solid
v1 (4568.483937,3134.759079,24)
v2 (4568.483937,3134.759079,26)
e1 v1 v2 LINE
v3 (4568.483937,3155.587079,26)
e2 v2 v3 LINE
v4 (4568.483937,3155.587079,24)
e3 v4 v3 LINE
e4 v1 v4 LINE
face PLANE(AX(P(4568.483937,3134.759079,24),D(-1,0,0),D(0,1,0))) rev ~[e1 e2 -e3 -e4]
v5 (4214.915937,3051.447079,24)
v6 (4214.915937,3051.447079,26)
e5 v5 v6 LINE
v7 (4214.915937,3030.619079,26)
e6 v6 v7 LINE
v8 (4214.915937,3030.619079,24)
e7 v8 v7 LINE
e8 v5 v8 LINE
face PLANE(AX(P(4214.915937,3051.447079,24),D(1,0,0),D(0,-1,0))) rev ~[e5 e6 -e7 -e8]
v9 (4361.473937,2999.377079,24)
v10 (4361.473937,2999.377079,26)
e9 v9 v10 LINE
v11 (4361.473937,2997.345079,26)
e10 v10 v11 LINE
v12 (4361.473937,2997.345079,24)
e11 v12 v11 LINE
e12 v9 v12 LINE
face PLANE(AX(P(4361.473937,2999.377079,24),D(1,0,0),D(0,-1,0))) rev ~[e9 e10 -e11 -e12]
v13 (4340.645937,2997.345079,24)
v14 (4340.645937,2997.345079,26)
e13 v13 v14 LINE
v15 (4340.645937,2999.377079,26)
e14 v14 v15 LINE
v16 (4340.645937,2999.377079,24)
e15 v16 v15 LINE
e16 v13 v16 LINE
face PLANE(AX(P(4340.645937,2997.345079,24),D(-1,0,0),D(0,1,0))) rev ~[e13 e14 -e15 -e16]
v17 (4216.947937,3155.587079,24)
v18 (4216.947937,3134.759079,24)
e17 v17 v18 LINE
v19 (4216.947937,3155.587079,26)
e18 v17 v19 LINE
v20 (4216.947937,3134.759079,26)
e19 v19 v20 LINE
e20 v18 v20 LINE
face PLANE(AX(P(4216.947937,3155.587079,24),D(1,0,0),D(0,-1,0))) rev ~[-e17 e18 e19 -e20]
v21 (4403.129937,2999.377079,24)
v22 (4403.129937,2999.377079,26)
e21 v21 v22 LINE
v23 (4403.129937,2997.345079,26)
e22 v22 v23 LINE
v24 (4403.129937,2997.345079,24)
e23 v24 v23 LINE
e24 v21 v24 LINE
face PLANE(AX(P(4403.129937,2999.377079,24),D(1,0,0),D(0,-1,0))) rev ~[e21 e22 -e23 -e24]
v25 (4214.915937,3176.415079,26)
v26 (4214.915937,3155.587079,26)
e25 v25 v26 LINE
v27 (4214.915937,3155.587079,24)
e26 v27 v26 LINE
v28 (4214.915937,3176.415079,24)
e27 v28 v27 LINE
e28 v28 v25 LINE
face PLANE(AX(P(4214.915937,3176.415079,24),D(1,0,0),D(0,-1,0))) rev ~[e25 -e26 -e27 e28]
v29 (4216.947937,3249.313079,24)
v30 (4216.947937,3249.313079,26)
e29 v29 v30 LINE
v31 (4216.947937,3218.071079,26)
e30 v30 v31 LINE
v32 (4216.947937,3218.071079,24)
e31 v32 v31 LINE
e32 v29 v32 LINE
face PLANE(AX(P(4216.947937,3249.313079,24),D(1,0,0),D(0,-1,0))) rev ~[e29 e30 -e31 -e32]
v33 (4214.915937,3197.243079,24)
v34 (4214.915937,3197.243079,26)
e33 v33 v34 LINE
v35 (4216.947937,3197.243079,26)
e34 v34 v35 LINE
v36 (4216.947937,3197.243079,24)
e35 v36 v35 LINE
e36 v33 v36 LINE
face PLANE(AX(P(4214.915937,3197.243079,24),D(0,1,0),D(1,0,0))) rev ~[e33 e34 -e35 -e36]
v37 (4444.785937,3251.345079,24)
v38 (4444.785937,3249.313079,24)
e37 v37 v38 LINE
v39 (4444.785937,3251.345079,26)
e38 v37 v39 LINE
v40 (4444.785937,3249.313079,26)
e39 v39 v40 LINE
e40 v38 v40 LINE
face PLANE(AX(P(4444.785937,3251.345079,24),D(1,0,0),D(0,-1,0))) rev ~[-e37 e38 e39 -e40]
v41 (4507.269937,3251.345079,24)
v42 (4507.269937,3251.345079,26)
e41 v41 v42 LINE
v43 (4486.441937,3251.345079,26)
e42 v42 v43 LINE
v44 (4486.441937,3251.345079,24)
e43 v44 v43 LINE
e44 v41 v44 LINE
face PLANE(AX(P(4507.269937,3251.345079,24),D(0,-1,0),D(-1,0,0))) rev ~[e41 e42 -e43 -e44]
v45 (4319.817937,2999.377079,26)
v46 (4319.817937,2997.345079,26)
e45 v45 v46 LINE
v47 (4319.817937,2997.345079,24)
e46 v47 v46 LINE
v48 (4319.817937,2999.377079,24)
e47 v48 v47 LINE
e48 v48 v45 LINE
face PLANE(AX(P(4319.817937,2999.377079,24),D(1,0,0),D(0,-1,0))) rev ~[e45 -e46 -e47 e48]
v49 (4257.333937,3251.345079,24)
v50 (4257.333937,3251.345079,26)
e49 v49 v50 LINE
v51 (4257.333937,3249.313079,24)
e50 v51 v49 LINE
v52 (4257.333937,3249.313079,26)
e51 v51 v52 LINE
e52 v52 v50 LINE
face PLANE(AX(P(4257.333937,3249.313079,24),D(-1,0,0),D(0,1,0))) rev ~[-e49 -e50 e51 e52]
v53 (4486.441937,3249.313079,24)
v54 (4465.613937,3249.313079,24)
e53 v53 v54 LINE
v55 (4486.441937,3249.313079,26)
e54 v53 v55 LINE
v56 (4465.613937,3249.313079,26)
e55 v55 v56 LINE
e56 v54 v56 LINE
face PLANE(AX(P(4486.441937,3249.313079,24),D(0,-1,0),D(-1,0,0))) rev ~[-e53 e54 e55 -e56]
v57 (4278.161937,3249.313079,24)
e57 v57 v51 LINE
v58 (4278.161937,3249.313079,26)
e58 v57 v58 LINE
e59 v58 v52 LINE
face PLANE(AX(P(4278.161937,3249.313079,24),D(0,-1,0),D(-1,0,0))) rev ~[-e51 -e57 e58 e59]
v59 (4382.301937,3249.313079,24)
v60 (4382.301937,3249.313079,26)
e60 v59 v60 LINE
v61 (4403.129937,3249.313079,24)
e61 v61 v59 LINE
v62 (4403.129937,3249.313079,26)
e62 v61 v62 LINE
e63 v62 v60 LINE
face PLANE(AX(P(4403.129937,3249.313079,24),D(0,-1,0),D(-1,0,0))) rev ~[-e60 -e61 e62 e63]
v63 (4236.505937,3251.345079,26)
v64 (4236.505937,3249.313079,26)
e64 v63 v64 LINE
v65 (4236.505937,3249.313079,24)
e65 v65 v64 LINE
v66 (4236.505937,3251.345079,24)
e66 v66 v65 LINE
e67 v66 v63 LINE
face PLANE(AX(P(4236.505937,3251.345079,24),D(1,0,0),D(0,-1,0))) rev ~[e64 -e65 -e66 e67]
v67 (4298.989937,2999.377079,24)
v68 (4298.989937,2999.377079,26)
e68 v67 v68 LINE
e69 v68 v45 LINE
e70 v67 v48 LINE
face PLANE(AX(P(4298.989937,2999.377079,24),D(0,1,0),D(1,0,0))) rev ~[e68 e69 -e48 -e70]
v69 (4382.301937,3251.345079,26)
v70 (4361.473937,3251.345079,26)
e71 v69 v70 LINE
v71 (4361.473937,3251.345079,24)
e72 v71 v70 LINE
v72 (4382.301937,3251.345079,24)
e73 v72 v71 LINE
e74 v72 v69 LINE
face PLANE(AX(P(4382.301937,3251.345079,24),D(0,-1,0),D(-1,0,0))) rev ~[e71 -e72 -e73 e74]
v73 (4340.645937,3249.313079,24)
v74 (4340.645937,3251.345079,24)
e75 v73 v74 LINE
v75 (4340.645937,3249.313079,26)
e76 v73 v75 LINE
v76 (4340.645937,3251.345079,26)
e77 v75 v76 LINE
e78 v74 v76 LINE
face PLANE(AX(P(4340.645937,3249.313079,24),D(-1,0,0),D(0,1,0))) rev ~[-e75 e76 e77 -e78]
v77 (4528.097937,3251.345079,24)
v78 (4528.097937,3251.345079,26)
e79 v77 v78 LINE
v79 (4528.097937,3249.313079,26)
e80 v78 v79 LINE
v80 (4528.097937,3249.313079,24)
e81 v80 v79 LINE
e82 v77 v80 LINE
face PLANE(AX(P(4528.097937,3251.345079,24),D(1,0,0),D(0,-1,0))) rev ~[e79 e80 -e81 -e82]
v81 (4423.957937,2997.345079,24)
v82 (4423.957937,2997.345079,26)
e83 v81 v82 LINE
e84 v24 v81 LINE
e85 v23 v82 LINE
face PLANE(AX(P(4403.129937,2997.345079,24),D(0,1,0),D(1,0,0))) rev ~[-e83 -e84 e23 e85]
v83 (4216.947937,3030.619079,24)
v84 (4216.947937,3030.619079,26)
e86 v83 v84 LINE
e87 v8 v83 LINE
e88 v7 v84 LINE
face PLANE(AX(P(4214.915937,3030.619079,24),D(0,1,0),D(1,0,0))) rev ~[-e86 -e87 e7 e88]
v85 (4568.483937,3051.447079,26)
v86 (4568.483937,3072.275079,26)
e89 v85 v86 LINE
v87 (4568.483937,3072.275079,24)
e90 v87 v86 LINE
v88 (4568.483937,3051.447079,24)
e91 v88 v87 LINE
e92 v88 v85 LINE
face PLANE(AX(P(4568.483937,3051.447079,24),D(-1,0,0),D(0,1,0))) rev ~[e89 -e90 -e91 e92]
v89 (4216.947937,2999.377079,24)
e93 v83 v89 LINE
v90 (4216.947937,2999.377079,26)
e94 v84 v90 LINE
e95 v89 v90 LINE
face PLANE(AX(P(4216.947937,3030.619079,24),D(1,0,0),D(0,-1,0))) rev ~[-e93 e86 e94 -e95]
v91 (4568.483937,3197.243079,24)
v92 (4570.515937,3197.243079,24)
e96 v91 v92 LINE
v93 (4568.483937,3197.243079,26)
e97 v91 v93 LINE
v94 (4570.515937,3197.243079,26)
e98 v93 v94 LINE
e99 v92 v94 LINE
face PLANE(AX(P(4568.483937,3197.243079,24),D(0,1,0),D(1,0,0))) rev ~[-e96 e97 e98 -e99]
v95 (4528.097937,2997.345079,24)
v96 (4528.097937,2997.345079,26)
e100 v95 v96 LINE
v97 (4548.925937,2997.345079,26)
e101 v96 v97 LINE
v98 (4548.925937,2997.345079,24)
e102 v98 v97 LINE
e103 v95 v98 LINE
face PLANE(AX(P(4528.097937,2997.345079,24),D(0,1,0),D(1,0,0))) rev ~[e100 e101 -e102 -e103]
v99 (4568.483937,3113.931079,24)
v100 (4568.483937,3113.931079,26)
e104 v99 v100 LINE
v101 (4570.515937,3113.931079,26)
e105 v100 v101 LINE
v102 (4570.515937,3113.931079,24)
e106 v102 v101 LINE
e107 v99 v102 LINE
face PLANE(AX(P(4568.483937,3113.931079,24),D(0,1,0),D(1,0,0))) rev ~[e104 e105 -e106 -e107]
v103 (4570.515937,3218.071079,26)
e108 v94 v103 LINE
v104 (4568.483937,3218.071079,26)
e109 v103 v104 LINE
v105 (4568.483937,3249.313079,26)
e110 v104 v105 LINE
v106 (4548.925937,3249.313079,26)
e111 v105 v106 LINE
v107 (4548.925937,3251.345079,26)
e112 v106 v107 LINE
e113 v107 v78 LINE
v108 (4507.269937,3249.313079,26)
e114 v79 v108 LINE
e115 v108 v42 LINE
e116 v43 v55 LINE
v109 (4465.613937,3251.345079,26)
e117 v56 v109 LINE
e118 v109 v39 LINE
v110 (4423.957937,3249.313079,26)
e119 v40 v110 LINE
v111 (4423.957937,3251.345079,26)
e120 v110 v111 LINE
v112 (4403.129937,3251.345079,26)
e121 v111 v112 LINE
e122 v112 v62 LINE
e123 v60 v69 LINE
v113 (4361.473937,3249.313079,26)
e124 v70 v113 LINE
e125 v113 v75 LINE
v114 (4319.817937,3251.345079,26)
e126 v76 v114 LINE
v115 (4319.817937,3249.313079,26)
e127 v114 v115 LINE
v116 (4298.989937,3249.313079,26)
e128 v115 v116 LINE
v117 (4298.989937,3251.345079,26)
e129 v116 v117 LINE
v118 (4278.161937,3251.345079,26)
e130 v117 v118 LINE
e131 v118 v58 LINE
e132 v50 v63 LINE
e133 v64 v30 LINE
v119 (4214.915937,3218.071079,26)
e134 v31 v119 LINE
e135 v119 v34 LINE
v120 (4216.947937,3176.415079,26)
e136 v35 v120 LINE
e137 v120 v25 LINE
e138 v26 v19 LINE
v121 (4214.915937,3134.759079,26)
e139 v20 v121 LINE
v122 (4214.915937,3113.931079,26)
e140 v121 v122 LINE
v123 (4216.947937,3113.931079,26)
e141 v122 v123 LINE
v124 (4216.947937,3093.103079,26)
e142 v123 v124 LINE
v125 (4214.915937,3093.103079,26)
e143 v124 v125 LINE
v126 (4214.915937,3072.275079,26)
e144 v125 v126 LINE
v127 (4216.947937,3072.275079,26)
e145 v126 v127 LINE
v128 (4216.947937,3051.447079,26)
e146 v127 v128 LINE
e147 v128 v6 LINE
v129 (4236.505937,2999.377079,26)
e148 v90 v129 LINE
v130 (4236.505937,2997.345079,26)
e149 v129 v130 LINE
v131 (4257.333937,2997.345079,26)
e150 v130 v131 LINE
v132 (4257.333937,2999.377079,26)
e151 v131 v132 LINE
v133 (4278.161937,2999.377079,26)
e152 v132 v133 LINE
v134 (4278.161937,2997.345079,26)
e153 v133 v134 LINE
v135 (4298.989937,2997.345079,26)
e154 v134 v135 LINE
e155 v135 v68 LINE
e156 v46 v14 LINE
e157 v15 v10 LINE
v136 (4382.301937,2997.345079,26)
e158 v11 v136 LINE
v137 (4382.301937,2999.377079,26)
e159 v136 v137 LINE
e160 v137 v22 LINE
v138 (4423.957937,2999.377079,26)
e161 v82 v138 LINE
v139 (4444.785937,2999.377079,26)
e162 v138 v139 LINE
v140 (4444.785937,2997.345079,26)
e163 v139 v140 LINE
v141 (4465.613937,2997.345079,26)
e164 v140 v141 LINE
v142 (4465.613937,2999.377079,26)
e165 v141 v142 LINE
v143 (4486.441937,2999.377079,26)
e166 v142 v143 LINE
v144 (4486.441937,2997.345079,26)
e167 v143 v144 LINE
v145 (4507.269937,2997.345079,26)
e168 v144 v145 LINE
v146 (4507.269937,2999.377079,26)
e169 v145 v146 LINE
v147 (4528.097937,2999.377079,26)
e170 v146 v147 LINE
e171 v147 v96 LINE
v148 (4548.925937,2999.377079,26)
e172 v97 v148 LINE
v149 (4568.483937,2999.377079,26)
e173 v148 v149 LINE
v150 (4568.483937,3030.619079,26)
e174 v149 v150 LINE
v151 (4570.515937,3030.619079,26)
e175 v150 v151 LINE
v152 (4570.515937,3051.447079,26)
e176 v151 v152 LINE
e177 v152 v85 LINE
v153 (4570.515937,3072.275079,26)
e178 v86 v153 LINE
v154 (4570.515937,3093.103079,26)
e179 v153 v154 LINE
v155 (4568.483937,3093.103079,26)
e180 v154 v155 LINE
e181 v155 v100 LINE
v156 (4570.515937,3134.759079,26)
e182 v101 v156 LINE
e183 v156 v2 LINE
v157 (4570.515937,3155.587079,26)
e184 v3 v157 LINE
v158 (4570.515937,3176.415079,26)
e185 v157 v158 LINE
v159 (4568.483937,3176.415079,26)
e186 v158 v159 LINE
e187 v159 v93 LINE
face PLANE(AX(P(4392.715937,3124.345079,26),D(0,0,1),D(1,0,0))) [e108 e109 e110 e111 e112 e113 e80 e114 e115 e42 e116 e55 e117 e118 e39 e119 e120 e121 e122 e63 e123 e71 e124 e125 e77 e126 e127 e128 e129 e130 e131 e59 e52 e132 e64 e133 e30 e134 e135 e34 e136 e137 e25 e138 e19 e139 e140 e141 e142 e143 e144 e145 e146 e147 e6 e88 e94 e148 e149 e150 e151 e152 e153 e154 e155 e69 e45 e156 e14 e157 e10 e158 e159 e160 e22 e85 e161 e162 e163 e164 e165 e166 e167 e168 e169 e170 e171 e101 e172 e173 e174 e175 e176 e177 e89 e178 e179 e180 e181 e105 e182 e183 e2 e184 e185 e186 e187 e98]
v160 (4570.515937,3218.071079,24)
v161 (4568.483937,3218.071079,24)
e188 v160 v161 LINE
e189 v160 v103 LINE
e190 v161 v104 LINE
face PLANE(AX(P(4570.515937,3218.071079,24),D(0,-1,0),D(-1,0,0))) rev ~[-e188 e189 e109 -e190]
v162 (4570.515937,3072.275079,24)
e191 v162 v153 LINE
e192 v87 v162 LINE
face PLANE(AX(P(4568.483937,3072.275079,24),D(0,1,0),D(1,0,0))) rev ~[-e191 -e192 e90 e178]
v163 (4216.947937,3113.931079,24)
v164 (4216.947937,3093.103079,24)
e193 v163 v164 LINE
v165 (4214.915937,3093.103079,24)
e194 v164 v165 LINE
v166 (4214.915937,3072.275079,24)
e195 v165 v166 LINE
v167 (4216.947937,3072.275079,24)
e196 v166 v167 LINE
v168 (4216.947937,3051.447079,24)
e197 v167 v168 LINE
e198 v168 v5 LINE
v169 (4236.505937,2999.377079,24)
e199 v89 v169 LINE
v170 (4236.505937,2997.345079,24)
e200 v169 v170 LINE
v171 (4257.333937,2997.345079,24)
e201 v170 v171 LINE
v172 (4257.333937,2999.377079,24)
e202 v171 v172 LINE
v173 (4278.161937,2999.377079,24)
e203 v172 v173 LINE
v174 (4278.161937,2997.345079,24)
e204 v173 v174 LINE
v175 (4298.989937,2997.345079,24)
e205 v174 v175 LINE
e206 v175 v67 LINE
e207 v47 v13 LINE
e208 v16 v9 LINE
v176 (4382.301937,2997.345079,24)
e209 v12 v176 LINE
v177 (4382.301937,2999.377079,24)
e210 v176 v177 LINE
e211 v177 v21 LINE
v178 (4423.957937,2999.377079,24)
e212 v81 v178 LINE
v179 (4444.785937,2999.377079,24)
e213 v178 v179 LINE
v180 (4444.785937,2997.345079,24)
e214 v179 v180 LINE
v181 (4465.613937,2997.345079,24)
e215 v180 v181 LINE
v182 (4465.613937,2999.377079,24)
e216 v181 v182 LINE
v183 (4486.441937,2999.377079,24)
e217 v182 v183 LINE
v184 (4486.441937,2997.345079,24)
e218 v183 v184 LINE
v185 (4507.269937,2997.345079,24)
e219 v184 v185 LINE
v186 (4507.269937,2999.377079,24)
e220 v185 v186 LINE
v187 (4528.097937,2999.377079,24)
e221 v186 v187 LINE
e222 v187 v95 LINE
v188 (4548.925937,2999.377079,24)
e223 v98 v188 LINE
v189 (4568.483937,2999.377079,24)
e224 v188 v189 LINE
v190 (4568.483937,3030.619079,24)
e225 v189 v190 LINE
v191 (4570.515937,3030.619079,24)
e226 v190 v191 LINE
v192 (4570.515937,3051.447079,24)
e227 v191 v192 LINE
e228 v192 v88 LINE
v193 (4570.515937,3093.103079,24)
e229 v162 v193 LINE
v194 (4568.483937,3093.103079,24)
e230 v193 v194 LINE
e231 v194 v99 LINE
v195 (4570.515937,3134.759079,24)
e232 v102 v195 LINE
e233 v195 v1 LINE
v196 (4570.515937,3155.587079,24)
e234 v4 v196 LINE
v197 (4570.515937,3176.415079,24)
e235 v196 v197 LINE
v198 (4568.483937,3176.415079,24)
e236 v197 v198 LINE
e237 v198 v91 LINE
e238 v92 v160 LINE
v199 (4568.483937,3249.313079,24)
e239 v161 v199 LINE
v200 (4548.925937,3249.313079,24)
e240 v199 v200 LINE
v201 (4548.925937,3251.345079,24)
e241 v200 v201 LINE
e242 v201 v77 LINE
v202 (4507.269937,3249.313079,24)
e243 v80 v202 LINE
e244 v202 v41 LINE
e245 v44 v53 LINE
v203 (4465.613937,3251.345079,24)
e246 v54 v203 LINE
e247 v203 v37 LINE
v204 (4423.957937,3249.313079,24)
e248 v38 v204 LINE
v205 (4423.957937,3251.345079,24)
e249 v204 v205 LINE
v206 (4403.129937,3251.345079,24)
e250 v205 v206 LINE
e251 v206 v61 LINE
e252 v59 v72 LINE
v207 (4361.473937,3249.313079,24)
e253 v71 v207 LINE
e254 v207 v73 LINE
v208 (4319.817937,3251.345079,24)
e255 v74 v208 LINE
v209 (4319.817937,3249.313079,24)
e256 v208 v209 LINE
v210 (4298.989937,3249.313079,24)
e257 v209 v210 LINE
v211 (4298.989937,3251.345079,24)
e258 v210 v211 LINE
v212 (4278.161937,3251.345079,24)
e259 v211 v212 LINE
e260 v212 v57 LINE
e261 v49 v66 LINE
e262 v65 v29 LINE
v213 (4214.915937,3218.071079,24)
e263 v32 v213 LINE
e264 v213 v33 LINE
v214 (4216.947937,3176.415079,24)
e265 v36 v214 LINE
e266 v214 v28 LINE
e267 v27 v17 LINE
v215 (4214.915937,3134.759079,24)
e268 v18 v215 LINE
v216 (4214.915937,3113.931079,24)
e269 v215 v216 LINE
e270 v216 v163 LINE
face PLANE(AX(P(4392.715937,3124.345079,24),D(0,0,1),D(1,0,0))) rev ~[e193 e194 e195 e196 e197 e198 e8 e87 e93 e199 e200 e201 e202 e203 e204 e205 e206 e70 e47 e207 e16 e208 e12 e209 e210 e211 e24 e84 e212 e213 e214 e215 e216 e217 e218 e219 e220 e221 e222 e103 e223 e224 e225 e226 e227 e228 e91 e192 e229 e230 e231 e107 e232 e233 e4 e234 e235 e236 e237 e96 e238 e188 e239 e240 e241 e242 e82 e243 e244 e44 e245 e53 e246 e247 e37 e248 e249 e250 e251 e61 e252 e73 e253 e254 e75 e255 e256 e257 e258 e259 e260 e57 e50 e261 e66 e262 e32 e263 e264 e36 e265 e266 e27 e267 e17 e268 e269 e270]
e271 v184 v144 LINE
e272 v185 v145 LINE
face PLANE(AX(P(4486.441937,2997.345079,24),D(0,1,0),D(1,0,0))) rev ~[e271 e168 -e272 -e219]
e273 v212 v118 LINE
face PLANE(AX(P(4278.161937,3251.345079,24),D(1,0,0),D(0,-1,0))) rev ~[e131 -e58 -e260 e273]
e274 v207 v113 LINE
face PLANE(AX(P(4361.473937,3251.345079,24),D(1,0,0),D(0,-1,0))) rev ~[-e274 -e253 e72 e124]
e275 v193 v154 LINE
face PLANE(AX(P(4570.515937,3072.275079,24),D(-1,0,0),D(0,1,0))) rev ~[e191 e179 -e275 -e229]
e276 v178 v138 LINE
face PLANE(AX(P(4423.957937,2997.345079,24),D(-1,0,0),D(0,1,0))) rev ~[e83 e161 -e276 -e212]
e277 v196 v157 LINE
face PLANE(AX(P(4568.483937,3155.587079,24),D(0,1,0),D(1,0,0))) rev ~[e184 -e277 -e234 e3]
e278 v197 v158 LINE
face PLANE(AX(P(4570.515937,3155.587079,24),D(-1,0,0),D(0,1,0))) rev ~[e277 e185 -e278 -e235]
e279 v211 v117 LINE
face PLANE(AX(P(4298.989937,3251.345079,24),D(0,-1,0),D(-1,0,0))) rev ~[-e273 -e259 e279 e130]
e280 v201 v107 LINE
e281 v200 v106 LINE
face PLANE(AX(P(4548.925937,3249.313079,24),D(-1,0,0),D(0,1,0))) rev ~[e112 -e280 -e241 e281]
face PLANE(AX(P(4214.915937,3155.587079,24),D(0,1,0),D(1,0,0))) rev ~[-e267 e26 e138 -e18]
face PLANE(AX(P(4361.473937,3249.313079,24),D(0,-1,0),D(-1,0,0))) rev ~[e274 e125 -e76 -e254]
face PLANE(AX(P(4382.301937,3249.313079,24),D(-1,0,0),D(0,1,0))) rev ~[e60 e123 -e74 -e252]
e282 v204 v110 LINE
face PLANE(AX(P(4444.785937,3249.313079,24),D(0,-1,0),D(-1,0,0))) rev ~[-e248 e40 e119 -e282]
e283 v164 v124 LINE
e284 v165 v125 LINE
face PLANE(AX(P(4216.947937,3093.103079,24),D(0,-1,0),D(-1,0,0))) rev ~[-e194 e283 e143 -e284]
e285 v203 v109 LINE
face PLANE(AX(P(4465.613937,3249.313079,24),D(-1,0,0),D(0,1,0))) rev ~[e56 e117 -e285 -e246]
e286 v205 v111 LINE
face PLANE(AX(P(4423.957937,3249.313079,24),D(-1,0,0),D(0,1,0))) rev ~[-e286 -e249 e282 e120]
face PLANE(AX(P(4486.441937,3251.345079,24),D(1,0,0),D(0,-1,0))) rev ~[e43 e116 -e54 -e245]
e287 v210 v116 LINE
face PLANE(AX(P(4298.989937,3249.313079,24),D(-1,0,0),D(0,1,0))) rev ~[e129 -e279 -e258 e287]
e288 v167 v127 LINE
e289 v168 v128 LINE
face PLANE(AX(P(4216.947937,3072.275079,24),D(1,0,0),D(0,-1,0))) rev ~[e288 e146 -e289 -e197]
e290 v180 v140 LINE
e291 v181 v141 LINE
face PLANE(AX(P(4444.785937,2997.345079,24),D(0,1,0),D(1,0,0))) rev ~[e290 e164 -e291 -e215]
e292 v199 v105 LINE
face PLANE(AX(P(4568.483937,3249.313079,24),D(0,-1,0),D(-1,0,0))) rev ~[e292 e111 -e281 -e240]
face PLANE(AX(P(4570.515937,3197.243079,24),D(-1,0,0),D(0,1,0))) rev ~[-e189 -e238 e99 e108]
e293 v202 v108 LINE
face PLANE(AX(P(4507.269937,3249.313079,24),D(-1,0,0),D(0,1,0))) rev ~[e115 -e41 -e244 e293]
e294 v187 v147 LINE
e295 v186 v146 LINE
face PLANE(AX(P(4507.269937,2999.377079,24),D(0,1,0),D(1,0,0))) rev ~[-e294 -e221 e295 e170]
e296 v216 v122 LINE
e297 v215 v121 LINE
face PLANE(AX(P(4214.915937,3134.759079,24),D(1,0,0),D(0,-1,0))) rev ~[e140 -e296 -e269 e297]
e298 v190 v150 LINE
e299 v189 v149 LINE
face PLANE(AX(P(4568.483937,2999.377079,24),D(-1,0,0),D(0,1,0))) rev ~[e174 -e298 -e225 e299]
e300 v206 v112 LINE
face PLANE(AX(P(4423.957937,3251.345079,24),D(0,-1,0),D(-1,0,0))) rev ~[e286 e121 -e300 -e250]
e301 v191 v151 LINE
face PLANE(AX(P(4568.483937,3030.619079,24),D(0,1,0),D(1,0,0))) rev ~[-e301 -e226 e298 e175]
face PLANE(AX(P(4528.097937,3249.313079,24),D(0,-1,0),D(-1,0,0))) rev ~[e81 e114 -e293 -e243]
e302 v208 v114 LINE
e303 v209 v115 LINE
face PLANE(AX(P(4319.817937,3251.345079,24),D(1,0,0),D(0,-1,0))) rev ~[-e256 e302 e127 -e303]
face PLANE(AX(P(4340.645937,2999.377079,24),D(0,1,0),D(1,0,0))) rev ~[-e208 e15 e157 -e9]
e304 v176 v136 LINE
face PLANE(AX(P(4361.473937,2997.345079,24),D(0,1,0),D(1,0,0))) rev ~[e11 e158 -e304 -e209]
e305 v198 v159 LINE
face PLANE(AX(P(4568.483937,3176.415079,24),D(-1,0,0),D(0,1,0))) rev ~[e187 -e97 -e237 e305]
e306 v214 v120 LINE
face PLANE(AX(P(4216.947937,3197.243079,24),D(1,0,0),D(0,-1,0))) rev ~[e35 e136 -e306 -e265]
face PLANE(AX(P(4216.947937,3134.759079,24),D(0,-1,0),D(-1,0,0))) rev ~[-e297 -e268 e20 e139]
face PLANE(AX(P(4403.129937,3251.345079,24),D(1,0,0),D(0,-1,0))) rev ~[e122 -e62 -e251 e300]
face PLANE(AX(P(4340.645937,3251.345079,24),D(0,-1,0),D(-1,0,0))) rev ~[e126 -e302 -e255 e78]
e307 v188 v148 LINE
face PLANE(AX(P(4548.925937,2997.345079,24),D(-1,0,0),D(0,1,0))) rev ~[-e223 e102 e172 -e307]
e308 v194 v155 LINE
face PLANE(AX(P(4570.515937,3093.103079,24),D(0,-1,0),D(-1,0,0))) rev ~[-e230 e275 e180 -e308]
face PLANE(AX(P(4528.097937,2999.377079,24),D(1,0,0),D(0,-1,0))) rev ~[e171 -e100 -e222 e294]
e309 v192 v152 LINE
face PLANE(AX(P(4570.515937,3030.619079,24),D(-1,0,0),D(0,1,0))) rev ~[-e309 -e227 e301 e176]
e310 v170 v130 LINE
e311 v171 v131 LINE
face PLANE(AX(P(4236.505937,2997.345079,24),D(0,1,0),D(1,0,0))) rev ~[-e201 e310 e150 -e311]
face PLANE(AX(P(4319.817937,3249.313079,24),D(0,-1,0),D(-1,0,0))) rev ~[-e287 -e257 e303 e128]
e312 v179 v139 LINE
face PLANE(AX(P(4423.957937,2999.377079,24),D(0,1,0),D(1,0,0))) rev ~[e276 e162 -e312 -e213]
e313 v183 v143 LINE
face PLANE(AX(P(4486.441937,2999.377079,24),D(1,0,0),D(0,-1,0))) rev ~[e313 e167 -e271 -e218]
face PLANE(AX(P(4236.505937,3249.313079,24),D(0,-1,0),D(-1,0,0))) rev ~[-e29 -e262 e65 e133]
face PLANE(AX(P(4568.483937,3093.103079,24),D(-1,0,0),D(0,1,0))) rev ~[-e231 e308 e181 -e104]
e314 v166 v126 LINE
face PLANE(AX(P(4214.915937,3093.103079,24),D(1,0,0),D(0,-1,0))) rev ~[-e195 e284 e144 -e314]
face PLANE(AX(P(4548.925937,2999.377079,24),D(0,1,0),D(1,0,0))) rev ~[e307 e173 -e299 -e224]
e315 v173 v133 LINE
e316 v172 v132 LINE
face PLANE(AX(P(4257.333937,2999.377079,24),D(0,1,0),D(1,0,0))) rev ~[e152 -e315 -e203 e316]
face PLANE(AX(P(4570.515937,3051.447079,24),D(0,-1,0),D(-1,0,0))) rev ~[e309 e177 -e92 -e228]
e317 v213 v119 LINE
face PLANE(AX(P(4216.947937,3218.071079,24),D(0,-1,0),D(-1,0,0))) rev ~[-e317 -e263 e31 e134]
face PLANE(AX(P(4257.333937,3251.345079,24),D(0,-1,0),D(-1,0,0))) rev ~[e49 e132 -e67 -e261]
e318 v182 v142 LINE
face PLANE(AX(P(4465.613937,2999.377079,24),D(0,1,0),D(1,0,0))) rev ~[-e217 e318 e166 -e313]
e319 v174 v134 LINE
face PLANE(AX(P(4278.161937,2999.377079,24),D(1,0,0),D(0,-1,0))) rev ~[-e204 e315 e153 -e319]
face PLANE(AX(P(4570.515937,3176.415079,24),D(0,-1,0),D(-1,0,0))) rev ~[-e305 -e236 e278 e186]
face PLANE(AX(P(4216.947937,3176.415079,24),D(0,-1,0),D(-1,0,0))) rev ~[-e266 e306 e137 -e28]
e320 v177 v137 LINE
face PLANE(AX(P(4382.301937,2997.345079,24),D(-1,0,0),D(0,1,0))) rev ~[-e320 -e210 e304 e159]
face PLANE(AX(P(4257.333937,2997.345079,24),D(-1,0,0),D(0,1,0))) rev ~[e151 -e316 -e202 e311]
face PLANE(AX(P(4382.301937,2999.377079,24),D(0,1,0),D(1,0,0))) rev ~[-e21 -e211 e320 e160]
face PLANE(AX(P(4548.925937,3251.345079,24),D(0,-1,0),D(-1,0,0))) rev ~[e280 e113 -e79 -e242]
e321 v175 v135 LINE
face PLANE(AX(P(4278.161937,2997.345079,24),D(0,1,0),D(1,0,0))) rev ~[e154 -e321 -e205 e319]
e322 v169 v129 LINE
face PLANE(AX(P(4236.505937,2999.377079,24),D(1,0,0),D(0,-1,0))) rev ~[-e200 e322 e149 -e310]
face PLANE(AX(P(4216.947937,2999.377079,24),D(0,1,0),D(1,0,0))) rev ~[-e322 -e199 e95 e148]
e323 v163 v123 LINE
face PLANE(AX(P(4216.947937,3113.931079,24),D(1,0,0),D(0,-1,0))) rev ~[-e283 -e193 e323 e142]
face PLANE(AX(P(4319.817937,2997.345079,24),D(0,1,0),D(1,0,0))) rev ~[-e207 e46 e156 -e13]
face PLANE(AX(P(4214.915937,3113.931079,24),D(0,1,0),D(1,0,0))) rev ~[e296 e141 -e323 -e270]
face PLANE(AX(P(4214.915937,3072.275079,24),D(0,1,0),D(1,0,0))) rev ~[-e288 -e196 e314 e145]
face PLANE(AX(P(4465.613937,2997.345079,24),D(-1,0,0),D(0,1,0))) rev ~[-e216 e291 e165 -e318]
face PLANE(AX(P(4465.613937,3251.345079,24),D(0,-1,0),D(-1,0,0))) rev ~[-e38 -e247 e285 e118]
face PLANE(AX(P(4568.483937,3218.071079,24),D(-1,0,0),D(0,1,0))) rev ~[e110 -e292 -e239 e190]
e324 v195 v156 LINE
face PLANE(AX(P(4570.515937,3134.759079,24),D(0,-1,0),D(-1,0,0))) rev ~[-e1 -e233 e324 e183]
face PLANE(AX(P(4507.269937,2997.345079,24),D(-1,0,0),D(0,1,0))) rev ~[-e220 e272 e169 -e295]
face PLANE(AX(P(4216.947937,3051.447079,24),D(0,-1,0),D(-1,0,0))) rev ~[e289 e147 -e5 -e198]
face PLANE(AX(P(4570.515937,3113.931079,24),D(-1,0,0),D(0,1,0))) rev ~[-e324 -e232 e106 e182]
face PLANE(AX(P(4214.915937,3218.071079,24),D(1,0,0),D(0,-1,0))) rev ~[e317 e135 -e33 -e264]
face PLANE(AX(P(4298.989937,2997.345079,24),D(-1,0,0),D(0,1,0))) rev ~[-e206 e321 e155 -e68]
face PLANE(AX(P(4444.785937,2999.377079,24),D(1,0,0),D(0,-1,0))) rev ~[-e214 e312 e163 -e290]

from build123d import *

# Parameters (mm, degrees)
BOSS_EXTRUDE1_DEPTH = 50
SCALE1_SCALE        = 0.04


with BuildPart() as part:
    # Sketch1 → Boss-Extrude1 (new body)
    with BuildSketch(Plane.XY):
        Polygon((-1.484062936, 0.145079086), (487.465937064, 0.145079086), (487.465937064, -50.654920914), (1008.165937064, -50.654920914), (1008.165937064, 0.145079086), (1528.865937064, 0.145079086), (1528.865937064, -50.654920914), (2049.565937064, -50.654920914), (2049.565937064, 0.145079086), (2570.265937064, 0.145079086), (2570.265937064, -50.654920914), (3090.965937064, -50.654920914), (3090.965937064, 0.145079086), (3611.665937064, 0.145079086), (3611.665937064, -50.654920914), (4132.365937064, -50.654920914), (4132.365937064, 0.145079086), (4653.065937064, 0.145079086), (4653.065937064, -50.654920914), (5173.765937064, -50.654920914), (5173.765937064, 0.145079086), (5694.465937064, 0.145079086), (5694.465937064, -50.654920914), (6215.165937064, -50.654920914), (6215.165937064, 0.145079086), (6735.865937064, 0.145079086), (6735.865937064, -50.654920914), (7256.565937064, -50.654920914), (7256.565937064, 0.145079086), (7777.265937064, 0.145079086), (7777.265937064, -50.654920914), (8297.965937064, -50.654920914), (8297.965937064, 0.145079086), (8786.915937064, 0.145079086), (8786.915937064, 781.195079086), (8837.715937064, 781.195079086), (8837.715937064, 1301.895079086), (8786.915937064, 1301.895079086), (8786.915937064, 1822.595079086), (8837.715937064, 1822.595079086), (8837.715937064, 2343.295079086), (8786.915937064, 2343.295079086), (8786.915937064, 2863.995079086), (8837.715937064, 2863.995079086), (8837.715937064, 3384.695079086), (8786.915937064, 3384.695079086), (8786.915937064, 3905.395079086), (8837.715937064, 3905.395079086), (8837.715937064, 4426.095079086), (8786.915937064, 4426.095079086), (8786.915937064, 4946.795079086), (8837.715937064, 4946.795079086), (8837.715937064, 5467.495079086), (8786.915937064, 5467.495079086), (8786.915937064, 5988.195079086), (8786.915937064, 6248.545079086), (8297.965937064, 6248.545079086), (8297.965937064, 6299.345079086), (7777.265937064, 6299.345079086), (7777.265937064, 6248.545079086), (7256.565937064, 6248.545079086), (7256.565937064, 6299.345079086), (6735.865937064, 6299.345079086), (6735.865937064, 6248.545079086), (6215.165937064, 6248.545079086), (6215.165937064, 6299.345079086), (5694.465937064, 6299.345079086), (5694.465937064, 6248.545079086), (5173.765937064, 6248.545079086), (5173.765937064, 6299.345079086), (4653.065937064, 6299.345079086), (4653.065937064, 6248.545079086), (4132.365937064, 6248.545079086), (4132.365937064, 6299.345079086), (3611.665937064, 6299.345079086), (3611.665937064, 6248.545079086), (3090.965937064, 6248.545079086), (3090.965937064, 6299.345079086), (2570.265937064, 6299.345079086), (2570.265937064, 6248.545079086), (2049.565937064, 6248.545079086), (2049.565937064, 6299.345079086), (1528.865937064, 6299.345079086), (1528.865937064, 6248.545079086), (1008.165937064, 6248.545079086), (1008.165937064, 6299.345079086), (487.465937064, 6299.345079086), (487.465937064, 6248.545079086), (-1.484062936, 6248.545079086), (-1.484062936, 5467.495079086), (-52.284062936, 5467.495079086), (-52.284062936, 4946.795079086), (-1.484062936, 4946.795079086), (-1.484062936, 4426.095079086), (-52.284062936, 4426.095079086), (-52.284062936, 3905.395079086), (-1.484062936, 3905.395079086), (-1.484062936, 3384.695079086), (-52.284062936, 3384.695079086), (-52.284062936, 2863.995079086), (-1.484062936, 2863.995079086), (-1.484062936, 2343.295079086), (-52.284062936, 2343.295079086), (-52.284062936, 1822.595079086), (-1.484062936, 1822.595079086), (-1.484062936, 1301.895079086), (-52.284062936, 1301.895079086), (-52.284062936, 781.195079086), (-1.484062936, 781.195079086), (-1.484062936, 260.495079086), align=None)
    extrude(amount=BOSS_EXTRUDE1_DEPTH)


with BuildPart() as part_1:
    # Scale1: scaled about (4392.715937064, 3124.345079086, 25)
    add(part.part.scale(SCALE1_SCALE).moved(Location((4217.007299581, 2999.371275923, 24))))


solid = part_1.part
